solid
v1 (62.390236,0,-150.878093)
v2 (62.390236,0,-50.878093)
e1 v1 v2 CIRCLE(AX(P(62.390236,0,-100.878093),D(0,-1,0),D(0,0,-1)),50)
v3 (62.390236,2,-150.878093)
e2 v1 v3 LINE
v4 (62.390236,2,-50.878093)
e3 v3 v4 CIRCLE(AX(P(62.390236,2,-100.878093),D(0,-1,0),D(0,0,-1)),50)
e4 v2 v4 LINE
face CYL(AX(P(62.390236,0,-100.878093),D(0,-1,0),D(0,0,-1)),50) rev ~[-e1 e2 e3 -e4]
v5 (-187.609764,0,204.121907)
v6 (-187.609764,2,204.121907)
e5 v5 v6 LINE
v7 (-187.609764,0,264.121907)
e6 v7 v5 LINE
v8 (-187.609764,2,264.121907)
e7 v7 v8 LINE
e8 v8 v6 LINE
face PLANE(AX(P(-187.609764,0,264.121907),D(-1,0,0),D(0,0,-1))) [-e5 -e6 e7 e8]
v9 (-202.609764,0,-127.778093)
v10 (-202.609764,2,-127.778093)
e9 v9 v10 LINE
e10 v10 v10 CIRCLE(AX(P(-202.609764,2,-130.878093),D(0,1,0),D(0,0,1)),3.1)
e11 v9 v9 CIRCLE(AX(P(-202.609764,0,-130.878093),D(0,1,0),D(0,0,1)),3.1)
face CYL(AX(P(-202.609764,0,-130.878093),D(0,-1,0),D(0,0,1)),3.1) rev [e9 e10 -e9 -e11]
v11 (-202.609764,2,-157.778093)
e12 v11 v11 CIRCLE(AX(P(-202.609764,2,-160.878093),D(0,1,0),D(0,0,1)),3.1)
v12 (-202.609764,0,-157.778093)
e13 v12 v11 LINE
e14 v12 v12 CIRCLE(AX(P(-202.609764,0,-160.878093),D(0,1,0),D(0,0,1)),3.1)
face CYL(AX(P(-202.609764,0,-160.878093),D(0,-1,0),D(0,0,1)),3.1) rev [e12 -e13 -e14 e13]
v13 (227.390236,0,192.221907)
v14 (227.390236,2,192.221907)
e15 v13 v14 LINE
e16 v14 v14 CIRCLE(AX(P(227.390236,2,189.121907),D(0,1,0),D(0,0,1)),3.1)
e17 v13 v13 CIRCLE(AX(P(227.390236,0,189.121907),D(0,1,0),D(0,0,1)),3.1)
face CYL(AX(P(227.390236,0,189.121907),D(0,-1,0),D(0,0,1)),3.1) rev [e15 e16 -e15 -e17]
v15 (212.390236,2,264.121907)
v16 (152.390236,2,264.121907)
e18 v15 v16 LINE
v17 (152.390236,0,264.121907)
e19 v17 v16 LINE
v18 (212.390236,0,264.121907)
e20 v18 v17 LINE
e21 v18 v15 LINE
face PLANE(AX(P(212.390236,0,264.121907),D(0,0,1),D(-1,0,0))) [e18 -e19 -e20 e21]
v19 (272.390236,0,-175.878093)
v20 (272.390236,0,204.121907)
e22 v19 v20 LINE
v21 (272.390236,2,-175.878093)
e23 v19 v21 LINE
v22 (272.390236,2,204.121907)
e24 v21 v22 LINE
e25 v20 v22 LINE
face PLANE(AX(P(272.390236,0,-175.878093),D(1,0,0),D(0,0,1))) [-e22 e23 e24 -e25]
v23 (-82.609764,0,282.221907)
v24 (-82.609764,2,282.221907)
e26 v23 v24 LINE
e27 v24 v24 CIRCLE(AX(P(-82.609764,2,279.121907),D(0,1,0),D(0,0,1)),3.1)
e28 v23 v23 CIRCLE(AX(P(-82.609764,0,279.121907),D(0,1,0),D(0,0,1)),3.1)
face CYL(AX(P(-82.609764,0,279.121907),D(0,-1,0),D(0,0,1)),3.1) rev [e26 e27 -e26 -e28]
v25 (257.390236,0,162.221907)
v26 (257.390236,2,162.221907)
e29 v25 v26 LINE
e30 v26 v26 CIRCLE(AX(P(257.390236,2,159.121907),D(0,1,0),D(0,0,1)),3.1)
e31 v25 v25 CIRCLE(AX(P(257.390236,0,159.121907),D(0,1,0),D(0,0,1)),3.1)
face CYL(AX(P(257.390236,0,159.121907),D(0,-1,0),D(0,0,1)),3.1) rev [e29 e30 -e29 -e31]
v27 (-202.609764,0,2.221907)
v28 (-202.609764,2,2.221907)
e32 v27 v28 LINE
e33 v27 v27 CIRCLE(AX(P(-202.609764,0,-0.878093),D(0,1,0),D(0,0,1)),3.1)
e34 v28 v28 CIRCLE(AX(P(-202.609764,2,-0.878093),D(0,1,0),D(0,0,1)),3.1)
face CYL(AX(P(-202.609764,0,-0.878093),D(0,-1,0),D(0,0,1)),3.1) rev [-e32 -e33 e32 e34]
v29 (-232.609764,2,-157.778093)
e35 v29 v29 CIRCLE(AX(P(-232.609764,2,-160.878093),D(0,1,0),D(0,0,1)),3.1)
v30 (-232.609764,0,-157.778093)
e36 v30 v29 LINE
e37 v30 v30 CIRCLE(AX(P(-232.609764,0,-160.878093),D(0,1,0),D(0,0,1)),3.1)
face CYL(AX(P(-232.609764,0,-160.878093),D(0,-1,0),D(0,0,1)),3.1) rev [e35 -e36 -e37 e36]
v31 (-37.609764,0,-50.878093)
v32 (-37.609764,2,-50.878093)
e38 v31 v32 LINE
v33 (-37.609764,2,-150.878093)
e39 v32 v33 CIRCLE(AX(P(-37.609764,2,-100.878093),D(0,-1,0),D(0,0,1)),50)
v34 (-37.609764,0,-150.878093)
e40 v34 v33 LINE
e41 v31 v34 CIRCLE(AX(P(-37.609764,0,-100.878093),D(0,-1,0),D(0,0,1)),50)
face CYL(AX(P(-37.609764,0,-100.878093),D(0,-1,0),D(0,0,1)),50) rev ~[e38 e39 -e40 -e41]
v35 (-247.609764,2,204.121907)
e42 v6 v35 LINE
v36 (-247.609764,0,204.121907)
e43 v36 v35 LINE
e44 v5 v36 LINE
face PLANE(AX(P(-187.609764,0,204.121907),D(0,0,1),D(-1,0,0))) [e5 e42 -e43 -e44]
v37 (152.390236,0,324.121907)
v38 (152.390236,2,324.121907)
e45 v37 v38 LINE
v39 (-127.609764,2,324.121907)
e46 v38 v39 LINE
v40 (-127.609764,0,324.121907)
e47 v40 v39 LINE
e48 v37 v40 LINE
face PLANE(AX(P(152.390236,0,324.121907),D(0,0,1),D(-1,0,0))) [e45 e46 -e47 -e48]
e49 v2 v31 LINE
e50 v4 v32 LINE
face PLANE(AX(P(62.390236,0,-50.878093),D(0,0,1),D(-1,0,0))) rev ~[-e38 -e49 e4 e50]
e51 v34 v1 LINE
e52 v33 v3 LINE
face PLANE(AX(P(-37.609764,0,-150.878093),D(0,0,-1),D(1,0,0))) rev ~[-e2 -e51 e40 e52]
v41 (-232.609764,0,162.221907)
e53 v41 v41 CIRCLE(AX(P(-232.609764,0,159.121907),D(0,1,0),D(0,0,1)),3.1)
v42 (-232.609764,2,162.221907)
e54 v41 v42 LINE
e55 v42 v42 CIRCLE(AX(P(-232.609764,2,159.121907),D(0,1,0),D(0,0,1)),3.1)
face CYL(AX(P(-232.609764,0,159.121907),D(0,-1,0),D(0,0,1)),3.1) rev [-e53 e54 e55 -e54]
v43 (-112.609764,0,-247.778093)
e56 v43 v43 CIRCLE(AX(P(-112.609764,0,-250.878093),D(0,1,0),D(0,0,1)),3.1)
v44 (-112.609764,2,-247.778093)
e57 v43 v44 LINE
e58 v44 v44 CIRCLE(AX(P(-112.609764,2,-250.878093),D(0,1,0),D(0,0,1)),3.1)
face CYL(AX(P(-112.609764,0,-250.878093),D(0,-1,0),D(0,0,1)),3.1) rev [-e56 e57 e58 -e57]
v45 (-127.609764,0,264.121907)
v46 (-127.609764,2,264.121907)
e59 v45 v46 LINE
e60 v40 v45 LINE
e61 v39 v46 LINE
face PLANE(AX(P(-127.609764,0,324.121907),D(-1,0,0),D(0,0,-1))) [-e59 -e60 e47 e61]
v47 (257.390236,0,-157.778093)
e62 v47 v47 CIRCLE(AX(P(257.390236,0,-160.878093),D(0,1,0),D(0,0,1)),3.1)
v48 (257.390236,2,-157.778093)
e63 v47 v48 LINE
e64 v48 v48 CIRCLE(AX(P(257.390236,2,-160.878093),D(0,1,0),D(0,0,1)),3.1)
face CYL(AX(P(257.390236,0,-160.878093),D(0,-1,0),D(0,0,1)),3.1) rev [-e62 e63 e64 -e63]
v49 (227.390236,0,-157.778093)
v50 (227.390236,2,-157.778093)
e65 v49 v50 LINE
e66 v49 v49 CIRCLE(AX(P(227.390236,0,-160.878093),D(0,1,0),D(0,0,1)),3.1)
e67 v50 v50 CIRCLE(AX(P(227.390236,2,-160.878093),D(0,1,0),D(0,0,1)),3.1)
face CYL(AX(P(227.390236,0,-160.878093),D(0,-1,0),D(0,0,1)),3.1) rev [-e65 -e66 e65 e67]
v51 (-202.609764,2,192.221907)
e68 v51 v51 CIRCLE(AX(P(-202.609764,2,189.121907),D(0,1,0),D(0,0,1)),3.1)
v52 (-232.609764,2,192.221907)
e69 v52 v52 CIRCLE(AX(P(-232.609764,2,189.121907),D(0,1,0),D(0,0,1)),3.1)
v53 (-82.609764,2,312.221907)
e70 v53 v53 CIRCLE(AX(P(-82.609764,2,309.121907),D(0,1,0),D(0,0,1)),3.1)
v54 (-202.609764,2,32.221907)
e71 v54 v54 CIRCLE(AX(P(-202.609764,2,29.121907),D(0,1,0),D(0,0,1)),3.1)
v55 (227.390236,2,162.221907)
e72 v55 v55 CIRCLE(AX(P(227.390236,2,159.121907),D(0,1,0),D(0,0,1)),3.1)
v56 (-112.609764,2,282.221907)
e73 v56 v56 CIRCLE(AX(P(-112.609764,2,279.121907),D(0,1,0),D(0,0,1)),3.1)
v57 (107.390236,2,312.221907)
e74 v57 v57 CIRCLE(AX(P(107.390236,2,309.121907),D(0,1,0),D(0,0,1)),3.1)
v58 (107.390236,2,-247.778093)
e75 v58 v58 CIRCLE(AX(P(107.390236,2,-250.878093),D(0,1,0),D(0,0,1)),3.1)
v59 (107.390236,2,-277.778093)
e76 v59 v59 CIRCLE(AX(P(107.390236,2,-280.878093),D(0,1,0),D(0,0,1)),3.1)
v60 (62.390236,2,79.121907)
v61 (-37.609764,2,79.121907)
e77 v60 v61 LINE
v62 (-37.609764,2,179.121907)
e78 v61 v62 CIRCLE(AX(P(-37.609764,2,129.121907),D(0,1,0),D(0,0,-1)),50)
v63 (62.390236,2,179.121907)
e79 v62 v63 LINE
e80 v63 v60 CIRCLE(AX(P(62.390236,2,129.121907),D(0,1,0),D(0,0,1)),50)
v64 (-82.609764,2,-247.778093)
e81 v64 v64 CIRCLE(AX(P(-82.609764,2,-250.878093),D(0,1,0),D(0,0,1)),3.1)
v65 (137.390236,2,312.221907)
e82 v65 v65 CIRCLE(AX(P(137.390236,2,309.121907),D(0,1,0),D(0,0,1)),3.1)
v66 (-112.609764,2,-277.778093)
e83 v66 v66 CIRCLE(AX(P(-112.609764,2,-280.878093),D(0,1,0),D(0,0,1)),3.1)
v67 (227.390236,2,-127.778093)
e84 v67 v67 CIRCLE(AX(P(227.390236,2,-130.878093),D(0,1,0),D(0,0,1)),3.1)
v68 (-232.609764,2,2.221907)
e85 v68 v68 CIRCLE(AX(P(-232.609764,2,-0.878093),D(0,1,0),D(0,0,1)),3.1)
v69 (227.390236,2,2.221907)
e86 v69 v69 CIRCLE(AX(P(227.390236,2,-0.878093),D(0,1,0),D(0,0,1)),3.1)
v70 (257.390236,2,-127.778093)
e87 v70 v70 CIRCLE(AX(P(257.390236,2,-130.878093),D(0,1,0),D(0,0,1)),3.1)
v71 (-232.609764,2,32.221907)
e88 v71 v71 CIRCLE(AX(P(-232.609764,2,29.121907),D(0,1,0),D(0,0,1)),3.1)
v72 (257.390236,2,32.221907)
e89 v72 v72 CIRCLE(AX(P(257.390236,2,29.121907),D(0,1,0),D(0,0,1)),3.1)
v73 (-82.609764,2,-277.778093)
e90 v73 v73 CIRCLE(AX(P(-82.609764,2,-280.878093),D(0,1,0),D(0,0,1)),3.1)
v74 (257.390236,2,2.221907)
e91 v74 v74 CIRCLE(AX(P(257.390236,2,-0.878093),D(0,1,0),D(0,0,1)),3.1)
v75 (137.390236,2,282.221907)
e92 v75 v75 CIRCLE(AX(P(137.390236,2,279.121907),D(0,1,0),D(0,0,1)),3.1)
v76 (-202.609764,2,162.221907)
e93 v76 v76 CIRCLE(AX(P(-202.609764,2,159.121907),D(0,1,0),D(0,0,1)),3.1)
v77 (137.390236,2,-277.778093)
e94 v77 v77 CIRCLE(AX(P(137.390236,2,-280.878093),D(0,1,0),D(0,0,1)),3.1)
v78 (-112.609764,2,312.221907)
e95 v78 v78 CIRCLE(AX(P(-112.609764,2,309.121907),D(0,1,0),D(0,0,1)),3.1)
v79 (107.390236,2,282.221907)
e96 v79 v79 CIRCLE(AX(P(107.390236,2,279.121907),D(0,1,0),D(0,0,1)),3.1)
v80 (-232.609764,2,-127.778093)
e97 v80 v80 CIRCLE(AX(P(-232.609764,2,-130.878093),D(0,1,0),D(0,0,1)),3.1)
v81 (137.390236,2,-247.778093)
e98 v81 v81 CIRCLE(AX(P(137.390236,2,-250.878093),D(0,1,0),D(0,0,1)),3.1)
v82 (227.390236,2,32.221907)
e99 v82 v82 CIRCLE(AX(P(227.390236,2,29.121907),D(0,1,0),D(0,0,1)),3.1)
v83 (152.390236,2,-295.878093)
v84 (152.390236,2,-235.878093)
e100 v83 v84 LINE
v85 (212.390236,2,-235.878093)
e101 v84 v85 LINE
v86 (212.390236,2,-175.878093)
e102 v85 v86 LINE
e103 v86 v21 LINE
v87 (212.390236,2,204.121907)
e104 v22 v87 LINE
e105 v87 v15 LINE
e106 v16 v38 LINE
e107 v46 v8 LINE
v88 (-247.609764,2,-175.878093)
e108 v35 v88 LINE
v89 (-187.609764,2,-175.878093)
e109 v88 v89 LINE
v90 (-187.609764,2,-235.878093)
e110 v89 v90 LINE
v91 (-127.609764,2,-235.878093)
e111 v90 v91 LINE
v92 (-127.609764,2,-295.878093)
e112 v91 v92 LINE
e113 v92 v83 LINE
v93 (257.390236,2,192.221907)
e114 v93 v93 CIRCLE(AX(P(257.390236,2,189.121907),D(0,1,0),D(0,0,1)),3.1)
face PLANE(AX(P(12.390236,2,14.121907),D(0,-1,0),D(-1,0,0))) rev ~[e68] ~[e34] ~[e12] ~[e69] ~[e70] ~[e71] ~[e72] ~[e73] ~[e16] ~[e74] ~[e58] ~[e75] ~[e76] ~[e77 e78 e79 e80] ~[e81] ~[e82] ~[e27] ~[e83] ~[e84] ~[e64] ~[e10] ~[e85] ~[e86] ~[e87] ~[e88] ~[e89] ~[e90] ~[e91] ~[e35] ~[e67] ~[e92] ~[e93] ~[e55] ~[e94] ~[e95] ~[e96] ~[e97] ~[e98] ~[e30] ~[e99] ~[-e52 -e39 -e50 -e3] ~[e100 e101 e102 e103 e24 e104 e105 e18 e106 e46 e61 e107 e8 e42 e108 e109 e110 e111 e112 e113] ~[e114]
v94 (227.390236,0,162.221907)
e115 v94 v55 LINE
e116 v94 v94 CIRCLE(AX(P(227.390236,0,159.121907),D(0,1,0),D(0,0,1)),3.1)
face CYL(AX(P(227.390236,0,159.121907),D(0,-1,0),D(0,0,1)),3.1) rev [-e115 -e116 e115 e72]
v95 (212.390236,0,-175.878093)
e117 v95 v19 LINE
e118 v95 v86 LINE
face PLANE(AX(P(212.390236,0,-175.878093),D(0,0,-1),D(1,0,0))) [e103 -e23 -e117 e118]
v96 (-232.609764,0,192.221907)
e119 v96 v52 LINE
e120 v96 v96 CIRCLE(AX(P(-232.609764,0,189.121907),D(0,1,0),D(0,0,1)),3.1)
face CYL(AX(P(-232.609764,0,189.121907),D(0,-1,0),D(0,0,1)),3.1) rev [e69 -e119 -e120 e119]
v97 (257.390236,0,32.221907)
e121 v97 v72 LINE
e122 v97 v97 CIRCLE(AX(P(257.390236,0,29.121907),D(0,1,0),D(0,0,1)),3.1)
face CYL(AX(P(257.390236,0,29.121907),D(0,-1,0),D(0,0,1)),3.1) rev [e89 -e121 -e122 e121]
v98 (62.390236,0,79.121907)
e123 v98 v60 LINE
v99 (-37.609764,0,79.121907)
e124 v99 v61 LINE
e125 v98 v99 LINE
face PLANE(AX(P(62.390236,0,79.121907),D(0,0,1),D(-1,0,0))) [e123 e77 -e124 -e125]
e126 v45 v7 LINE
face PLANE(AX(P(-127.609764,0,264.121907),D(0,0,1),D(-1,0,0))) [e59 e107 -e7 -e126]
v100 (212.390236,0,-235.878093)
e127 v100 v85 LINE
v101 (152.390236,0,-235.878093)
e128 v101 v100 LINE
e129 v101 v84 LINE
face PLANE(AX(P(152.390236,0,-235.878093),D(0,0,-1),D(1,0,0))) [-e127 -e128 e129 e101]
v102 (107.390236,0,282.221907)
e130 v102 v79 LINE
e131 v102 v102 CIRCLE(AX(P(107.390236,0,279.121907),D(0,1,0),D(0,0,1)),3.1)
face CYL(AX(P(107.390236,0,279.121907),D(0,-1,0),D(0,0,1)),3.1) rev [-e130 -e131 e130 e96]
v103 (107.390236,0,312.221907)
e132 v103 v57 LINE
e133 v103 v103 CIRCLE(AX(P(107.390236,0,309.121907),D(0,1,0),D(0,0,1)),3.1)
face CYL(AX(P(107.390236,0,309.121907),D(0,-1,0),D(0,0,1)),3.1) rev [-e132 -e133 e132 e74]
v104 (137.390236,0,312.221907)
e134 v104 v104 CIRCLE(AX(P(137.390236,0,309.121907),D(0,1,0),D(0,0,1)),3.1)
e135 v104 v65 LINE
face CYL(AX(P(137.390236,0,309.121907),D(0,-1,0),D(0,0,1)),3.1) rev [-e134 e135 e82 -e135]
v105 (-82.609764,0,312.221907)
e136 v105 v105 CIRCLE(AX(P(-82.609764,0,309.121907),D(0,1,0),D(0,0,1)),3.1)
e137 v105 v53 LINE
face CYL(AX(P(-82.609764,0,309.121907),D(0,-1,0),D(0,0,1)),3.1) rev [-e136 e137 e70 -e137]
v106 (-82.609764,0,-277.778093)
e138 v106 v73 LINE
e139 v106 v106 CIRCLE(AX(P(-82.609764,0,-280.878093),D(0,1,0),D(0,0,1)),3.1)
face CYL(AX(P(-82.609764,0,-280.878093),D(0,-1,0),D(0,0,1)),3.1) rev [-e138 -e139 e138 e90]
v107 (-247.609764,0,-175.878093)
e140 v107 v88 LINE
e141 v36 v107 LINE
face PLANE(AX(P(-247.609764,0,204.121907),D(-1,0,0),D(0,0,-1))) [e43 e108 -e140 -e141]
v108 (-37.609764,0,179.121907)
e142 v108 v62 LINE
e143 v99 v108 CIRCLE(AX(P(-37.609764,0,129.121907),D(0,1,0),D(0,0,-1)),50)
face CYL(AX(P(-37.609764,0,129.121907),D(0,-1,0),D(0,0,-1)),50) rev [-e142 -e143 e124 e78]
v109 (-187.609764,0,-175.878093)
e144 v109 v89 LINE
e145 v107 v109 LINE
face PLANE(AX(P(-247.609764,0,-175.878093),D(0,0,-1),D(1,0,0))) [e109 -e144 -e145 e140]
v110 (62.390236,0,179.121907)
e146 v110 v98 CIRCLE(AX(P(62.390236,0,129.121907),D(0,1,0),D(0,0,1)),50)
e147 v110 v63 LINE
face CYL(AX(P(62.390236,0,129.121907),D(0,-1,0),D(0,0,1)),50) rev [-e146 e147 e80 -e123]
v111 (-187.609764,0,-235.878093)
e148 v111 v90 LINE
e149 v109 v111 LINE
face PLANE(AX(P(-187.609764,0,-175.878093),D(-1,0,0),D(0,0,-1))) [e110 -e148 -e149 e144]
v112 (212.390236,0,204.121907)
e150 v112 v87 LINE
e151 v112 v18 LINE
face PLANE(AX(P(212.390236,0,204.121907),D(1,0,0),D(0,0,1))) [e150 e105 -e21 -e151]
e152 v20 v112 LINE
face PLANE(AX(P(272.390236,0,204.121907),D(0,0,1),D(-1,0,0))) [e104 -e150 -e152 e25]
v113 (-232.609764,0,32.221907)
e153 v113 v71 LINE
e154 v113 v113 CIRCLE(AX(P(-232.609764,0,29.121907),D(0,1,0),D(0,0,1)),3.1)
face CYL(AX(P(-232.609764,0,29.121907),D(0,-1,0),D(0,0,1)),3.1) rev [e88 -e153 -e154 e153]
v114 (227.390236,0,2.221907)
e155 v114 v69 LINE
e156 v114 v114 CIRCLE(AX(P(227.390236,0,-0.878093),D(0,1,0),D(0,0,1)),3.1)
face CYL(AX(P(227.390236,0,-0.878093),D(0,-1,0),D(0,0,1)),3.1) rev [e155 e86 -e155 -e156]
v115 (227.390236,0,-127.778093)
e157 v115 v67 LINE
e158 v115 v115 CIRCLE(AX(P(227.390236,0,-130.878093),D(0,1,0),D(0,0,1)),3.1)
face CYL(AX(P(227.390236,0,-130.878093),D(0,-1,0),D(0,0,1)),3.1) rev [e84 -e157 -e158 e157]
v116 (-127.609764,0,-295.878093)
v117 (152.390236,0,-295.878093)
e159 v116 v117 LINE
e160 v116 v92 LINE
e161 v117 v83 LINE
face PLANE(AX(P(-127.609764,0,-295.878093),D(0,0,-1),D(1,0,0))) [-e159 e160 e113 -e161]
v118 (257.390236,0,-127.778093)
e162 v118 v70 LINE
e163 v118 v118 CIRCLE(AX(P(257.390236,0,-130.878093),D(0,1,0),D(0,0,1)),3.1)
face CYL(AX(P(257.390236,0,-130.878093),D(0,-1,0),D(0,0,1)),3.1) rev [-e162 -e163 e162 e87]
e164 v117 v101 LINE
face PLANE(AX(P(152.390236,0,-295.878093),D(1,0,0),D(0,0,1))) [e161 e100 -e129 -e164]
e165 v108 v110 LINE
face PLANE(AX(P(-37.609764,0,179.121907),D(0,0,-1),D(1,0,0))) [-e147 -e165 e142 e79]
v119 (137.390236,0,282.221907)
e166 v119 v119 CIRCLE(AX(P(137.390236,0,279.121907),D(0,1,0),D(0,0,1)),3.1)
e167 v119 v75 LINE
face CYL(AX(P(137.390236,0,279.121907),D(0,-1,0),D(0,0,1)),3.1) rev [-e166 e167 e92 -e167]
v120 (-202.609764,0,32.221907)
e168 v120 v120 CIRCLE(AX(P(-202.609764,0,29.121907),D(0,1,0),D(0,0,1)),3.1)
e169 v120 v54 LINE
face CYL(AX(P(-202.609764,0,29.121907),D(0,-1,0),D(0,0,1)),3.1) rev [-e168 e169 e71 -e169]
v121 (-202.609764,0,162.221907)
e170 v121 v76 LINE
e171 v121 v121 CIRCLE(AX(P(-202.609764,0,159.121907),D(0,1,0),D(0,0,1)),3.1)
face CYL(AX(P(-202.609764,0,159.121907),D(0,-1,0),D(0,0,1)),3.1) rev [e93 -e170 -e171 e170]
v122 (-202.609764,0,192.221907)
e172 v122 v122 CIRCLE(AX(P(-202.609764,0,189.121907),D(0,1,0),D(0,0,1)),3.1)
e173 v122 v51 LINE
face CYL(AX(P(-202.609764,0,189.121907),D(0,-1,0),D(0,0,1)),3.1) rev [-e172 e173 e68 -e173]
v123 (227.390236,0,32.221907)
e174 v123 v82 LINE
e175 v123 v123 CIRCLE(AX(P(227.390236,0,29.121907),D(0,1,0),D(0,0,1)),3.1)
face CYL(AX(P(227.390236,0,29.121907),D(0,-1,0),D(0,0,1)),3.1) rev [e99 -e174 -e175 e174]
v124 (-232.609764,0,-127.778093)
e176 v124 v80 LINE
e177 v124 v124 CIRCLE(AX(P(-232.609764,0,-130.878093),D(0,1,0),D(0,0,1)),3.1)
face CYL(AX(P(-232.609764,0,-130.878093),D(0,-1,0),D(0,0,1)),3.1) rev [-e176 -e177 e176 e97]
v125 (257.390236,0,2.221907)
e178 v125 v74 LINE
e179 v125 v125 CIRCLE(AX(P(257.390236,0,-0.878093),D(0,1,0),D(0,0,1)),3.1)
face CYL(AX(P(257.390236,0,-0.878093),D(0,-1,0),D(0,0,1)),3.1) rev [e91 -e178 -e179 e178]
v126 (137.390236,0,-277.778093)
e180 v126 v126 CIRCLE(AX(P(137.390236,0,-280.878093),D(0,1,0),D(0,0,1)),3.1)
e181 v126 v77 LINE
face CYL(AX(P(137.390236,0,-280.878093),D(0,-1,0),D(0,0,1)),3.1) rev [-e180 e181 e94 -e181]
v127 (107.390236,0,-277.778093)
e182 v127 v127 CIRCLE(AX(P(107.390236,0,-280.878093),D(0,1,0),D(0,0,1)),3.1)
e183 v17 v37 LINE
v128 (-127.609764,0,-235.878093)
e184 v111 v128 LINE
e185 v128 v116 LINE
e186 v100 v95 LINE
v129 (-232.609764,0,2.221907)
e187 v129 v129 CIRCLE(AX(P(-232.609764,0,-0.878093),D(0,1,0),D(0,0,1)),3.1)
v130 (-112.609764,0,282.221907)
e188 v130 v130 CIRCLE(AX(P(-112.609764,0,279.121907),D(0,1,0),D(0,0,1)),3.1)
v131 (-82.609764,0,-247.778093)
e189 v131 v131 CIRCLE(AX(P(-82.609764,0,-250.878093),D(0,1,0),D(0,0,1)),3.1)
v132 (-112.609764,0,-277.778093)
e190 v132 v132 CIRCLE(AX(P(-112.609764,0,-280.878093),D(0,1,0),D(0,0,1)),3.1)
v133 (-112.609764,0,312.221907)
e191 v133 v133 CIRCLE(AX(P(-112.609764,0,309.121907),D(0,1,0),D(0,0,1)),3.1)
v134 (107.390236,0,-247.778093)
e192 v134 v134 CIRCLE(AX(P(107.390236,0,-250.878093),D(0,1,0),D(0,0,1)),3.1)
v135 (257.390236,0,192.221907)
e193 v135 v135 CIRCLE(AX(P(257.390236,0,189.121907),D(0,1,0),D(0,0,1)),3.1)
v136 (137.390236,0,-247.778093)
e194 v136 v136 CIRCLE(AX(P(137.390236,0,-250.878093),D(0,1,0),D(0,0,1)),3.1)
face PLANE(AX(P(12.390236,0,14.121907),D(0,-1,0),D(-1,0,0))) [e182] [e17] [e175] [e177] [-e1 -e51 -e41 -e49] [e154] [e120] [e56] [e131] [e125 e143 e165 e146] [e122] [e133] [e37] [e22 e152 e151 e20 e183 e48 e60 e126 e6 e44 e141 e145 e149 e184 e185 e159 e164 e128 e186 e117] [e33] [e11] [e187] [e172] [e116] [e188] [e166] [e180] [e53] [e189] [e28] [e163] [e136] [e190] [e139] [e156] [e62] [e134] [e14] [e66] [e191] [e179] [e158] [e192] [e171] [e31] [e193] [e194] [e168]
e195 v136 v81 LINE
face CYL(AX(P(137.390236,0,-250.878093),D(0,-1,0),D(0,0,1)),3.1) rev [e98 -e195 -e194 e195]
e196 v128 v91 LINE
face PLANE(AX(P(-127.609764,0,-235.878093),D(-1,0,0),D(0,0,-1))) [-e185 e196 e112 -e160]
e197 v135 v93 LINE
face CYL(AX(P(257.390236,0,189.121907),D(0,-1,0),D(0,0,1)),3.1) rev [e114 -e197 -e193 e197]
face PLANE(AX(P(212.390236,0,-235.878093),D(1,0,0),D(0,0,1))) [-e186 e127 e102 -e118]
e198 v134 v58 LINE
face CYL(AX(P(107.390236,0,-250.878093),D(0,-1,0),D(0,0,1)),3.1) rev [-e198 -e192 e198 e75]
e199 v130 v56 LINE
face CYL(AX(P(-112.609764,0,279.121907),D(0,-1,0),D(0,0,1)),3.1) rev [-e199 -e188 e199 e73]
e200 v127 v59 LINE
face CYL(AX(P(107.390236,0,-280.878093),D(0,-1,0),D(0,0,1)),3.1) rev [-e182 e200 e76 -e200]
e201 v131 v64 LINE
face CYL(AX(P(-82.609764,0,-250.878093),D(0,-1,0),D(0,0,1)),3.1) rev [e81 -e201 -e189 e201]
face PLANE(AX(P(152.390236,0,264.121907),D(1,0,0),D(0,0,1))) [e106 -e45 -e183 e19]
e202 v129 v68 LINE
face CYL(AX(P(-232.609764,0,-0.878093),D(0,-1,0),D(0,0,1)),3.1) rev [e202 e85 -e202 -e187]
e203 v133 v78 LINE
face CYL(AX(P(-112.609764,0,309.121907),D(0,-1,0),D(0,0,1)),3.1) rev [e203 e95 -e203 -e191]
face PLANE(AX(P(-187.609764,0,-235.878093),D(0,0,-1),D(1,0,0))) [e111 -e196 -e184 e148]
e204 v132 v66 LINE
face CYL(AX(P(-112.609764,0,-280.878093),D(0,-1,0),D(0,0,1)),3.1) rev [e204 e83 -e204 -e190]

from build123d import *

# Parameters (mm, degrees)
SKETCH_1_R      = 3.1
EXTRUDE_1_DEPTH = 2


with BuildPart() as part:
    # 草图1 → 凸台-拉伸1 (new body)
    with BuildSketch(Plane(origin=(0, 0, 0), x_dir=(1, 0, 0), z_dir=(0, 1, 0))):
        Polygon((-187.609763817, 175.878092516), (-187.609763817, 235.878092516), (-127.609763817, 235.878092516), (-127.609763817, 295.878092516), (152.390236183, 295.878092516), (152.390236183, 235.878092516), (212.390236183, 235.878092516), (212.390236183, 175.878092516), (272.390236183, 175.878092516), (272.390236183, -204.121907484), (212.390236183, -204.121907484), (212.390236183, -264.121907484), (152.390236183, -264.121907484), (152.390236183, -324.121907484), (-127.609763817, -324.121907484), (-127.609763817, -264.121907484), (-187.609763817, -264.121907484), (-187.609763817, -204.121907484), (-247.609763817, -204.121907484), (-247.609763817, 175.878092516), align=None)
        with Locations(Location((-112.609763817, -279.121907484, 0), (0, 0, 270))):
            Circle(SKETCH_1_R, mode=Mode.SUBTRACT)
        with Locations(Location((-82.609763817, -279.121907484, 0), (0, 0, 270))):
            Circle(SKETCH_1_R, mode=Mode.SUBTRACT)
        with Locations(Location((-112.609763817, -309.121907484, 0), (0, 0, 270))):
            Circle(SKETCH_1_R, mode=Mode.SUBTRACT)
        with Locations(Location((-82.609763817, -309.121907484, 0), (0, 0, 270))):
            Circle(SKETCH_1_R, mode=Mode.SUBTRACT)
        with Locations(Location((-232.609763817, -159.121907484, 0), (0, 0, 270))):
            Circle(SKETCH_1_R, mode=Mode.SUBTRACT)
        with Locations(Location((-202.609763817, -159.121907484, 0), (0, 0, 270))):
            Circle(SKETCH_1_R, mode=Mode.SUBTRACT)
        with Locations(Location((-232.609763817, -189.121907484, 0), (0, 0, 270))):
            Circle(SKETCH_1_R, mode=Mode.SUBTRACT)
        with Locations(Location((-202.609763817, -189.121907484, 0), (0, 0, 270))):
            Circle(SKETCH_1_R, mode=Mode.SUBTRACT)
        with Locations(Location((257.390236183, -189.121907484, 0), (0, 0, 270))):
            Circle(SKETCH_1_R, mode=Mode.SUBTRACT)
        with Locations(Location((227.390236183, -189.121907484, 0), (0, 0, 270))):
            Circle(SKETCH_1_R, mode=Mode.SUBTRACT)
        with Locations(Location((227.390236183, -159.121907484, 0), (0, 0, 270))):
            Circle(SKETCH_1_R, mode=Mode.SUBTRACT)
        with Locations(Location((257.390236183, -159.121907484, 0), (0, 0, 270))):
            Circle(SKETCH_1_R, mode=Mode.SUBTRACT)
        with Locations(Location((227.390236183, 160.878092516, 0), (0, 0, 270))):
            Circle(SKETCH_1_R, mode=Mode.SUBTRACT)
        with Locations(Location((257.390236183, 160.878092516, 0), (0, 0, 270))):
            Circle(SKETCH_1_R, mode=Mode.SUBTRACT)
        with Locations(Location((257.390236183, 130.878092516, 0), (0, 0, 270))):
            Circle(SKETCH_1_R, mode=Mode.SUBTRACT)
        with Locations(Location((227.390236183, 130.878092516, 0), (0, 0, 270))):
            Circle(SKETCH_1_R, mode=Mode.SUBTRACT)
        with Locations(Location((-232.609763817, 160.878092516, 0), (0, 0, 270))):
            Circle(SKETCH_1_R, mode=Mode.SUBTRACT)
        with Locations(Location((-202.609763817, 160.878092516, 0), (0, 0, 270))):
            Circle(SKETCH_1_R, mode=Mode.SUBTRACT)
        with Locations(Location((-202.609763817, 130.878092516, 0), (0, 0, 270))):
            Circle(SKETCH_1_R, mode=Mode.SUBTRACT)
        with Locations(Location((-232.609763817, 130.878092516, 0), (0, 0, 270))):
            Circle(SKETCH_1_R, mode=Mode.SUBTRACT)
        with Locations(Location((-232.609763817, 0.878092516, 0), (0, 0, 270))):
            Circle(SKETCH_1_R, mode=Mode.SUBTRACT)
        with Locations(Location((-202.609763817, 0.878092516, 0), (0, 0, 270))):
            Circle(SKETCH_1_R, mode=Mode.SUBTRACT)
        with Locations(Location((-202.609763817, -29.121907484, 0), (0, 0, 270))):
            Circle(SKETCH_1_R, mode=Mode.SUBTRACT)
        with Locations(Location((-232.609763817, -29.121907484, 0), (0, 0, 270))):
            Circle(SKETCH_1_R, mode=Mode.SUBTRACT)
        with Locations(Location((257.390236183, -29.121907484, 0), (0, 0, 270))):
            Circle(SKETCH_1_R, mode=Mode.SUBTRACT)
        with Locations(Location((227.390236183, -29.121907484, 0), (0, 0, 270))):
            Circle(SKETCH_1_R, mode=Mode.SUBTRACT)
        with Locations(Location((227.390236183, 0.878092516, 0), (0, 0, 270))):
            Circle(SKETCH_1_R, mode=Mode.SUBTRACT)
        with Locations(Location((257.390236183, 0.878092516, 0), (0, 0, 270))):
            Circle(SKETCH_1_R, mode=Mode.SUBTRACT)
        with Locations(Location((137.390236183, -309.121907484, 0), (0, 0, 270))):
            Circle(SKETCH_1_R, mode=Mode.SUBTRACT)
        with Locations(Location((107.390236183, -309.121907484, 0), (0, 0, 270))):
            Circle(SKETCH_1_R, mode=Mode.SUBTRACT)
        with Locations(Location((107.390236183, -279.121907484, 0), (0, 0, 270))):
            Circle(SKETCH_1_R, mode=Mode.SUBTRACT)
        with Locations(Location((137.390236183, -279.121907484, 0), (0, 0, 270))):
            Circle(SKETCH_1_R, mode=Mode.SUBTRACT)
        with Locations(Location((107.390236183, 280.878092516, 0), (0, 0, 270))):
            Circle(SKETCH_1_R, mode=Mode.SUBTRACT)
        with Locations(Location((137.390236183, 280.878092516, 0), (0, 0, 270))):
            Circle(SKETCH_1_R, mode=Mode.SUBTRACT)
        with Locations(Location((137.390236183, 250.878092516, 0), (0, 0, 270))):
            Circle(SKETCH_1_R, mode=Mode.SUBTRACT)
        with Locations(Location((107.390236183, 250.878092516, 0), (0, 0, 270))):
            Circle(SKETCH_1_R, mode=Mode.SUBTRACT)
        with Locations(Location((-112.609763817, 280.878092516, 0), (0, 0, 270))):
            Circle(SKETCH_1_R, mode=Mode.SUBTRACT)
        with Locations(Location((-82.609763817, 280.878092516, 0), (0, 0, 270))):
            Circle(SKETCH_1_R, mode=Mode.SUBTRACT)
        with Locations(Location((-82.609763817, 250.878092516, 0), (0, 0, 270))):
            Circle(SKETCH_1_R, mode=Mode.SUBTRACT)
        with Locations(Location((-112.609763817, 250.878092516, 0), (0, 0, 270))):
            Circle(SKETCH_1_R, mode=Mode.SUBTRACT)
        with BuildLine():
            Line((-37.609763817, 150.878092516), (62.390236183, 150.878092516))
            ThreePointArc((62.390236183, 150.878092516), (112.390236183, 100.878092516), (62.390236183, 50.878092516))
            Line((62.390236183, 50.878092516), (-37.609763817, 50.878092516))
            ThreePointArc((-37.609763817, 50.878092516), (-87.609763817, 100.878092516), (-37.609763817, 150.878092516))
        make_face(mode=Mode.SUBTRACT)
        with BuildLine():
            Line((-37.609763817, -179.121907484), (62.390236183, -179.121907484))
            ThreePointArc((62.390236183, -179.121907484), (112.390236183, -129.121907484), (62.390236183, -79.121907484))
            Line((62.390236183, -79.121907484), (-37.609763817, -79.121907484))
            ThreePointArc((-37.609763817, -79.121907484), (-87.609763817, -129.121907484), (-37.609763817, -179.121907484))
        make_face(mode=Mode.SUBTRACT)
    extrude(amount=EXTRUDE_1_DEPTH)


solid = part.part
